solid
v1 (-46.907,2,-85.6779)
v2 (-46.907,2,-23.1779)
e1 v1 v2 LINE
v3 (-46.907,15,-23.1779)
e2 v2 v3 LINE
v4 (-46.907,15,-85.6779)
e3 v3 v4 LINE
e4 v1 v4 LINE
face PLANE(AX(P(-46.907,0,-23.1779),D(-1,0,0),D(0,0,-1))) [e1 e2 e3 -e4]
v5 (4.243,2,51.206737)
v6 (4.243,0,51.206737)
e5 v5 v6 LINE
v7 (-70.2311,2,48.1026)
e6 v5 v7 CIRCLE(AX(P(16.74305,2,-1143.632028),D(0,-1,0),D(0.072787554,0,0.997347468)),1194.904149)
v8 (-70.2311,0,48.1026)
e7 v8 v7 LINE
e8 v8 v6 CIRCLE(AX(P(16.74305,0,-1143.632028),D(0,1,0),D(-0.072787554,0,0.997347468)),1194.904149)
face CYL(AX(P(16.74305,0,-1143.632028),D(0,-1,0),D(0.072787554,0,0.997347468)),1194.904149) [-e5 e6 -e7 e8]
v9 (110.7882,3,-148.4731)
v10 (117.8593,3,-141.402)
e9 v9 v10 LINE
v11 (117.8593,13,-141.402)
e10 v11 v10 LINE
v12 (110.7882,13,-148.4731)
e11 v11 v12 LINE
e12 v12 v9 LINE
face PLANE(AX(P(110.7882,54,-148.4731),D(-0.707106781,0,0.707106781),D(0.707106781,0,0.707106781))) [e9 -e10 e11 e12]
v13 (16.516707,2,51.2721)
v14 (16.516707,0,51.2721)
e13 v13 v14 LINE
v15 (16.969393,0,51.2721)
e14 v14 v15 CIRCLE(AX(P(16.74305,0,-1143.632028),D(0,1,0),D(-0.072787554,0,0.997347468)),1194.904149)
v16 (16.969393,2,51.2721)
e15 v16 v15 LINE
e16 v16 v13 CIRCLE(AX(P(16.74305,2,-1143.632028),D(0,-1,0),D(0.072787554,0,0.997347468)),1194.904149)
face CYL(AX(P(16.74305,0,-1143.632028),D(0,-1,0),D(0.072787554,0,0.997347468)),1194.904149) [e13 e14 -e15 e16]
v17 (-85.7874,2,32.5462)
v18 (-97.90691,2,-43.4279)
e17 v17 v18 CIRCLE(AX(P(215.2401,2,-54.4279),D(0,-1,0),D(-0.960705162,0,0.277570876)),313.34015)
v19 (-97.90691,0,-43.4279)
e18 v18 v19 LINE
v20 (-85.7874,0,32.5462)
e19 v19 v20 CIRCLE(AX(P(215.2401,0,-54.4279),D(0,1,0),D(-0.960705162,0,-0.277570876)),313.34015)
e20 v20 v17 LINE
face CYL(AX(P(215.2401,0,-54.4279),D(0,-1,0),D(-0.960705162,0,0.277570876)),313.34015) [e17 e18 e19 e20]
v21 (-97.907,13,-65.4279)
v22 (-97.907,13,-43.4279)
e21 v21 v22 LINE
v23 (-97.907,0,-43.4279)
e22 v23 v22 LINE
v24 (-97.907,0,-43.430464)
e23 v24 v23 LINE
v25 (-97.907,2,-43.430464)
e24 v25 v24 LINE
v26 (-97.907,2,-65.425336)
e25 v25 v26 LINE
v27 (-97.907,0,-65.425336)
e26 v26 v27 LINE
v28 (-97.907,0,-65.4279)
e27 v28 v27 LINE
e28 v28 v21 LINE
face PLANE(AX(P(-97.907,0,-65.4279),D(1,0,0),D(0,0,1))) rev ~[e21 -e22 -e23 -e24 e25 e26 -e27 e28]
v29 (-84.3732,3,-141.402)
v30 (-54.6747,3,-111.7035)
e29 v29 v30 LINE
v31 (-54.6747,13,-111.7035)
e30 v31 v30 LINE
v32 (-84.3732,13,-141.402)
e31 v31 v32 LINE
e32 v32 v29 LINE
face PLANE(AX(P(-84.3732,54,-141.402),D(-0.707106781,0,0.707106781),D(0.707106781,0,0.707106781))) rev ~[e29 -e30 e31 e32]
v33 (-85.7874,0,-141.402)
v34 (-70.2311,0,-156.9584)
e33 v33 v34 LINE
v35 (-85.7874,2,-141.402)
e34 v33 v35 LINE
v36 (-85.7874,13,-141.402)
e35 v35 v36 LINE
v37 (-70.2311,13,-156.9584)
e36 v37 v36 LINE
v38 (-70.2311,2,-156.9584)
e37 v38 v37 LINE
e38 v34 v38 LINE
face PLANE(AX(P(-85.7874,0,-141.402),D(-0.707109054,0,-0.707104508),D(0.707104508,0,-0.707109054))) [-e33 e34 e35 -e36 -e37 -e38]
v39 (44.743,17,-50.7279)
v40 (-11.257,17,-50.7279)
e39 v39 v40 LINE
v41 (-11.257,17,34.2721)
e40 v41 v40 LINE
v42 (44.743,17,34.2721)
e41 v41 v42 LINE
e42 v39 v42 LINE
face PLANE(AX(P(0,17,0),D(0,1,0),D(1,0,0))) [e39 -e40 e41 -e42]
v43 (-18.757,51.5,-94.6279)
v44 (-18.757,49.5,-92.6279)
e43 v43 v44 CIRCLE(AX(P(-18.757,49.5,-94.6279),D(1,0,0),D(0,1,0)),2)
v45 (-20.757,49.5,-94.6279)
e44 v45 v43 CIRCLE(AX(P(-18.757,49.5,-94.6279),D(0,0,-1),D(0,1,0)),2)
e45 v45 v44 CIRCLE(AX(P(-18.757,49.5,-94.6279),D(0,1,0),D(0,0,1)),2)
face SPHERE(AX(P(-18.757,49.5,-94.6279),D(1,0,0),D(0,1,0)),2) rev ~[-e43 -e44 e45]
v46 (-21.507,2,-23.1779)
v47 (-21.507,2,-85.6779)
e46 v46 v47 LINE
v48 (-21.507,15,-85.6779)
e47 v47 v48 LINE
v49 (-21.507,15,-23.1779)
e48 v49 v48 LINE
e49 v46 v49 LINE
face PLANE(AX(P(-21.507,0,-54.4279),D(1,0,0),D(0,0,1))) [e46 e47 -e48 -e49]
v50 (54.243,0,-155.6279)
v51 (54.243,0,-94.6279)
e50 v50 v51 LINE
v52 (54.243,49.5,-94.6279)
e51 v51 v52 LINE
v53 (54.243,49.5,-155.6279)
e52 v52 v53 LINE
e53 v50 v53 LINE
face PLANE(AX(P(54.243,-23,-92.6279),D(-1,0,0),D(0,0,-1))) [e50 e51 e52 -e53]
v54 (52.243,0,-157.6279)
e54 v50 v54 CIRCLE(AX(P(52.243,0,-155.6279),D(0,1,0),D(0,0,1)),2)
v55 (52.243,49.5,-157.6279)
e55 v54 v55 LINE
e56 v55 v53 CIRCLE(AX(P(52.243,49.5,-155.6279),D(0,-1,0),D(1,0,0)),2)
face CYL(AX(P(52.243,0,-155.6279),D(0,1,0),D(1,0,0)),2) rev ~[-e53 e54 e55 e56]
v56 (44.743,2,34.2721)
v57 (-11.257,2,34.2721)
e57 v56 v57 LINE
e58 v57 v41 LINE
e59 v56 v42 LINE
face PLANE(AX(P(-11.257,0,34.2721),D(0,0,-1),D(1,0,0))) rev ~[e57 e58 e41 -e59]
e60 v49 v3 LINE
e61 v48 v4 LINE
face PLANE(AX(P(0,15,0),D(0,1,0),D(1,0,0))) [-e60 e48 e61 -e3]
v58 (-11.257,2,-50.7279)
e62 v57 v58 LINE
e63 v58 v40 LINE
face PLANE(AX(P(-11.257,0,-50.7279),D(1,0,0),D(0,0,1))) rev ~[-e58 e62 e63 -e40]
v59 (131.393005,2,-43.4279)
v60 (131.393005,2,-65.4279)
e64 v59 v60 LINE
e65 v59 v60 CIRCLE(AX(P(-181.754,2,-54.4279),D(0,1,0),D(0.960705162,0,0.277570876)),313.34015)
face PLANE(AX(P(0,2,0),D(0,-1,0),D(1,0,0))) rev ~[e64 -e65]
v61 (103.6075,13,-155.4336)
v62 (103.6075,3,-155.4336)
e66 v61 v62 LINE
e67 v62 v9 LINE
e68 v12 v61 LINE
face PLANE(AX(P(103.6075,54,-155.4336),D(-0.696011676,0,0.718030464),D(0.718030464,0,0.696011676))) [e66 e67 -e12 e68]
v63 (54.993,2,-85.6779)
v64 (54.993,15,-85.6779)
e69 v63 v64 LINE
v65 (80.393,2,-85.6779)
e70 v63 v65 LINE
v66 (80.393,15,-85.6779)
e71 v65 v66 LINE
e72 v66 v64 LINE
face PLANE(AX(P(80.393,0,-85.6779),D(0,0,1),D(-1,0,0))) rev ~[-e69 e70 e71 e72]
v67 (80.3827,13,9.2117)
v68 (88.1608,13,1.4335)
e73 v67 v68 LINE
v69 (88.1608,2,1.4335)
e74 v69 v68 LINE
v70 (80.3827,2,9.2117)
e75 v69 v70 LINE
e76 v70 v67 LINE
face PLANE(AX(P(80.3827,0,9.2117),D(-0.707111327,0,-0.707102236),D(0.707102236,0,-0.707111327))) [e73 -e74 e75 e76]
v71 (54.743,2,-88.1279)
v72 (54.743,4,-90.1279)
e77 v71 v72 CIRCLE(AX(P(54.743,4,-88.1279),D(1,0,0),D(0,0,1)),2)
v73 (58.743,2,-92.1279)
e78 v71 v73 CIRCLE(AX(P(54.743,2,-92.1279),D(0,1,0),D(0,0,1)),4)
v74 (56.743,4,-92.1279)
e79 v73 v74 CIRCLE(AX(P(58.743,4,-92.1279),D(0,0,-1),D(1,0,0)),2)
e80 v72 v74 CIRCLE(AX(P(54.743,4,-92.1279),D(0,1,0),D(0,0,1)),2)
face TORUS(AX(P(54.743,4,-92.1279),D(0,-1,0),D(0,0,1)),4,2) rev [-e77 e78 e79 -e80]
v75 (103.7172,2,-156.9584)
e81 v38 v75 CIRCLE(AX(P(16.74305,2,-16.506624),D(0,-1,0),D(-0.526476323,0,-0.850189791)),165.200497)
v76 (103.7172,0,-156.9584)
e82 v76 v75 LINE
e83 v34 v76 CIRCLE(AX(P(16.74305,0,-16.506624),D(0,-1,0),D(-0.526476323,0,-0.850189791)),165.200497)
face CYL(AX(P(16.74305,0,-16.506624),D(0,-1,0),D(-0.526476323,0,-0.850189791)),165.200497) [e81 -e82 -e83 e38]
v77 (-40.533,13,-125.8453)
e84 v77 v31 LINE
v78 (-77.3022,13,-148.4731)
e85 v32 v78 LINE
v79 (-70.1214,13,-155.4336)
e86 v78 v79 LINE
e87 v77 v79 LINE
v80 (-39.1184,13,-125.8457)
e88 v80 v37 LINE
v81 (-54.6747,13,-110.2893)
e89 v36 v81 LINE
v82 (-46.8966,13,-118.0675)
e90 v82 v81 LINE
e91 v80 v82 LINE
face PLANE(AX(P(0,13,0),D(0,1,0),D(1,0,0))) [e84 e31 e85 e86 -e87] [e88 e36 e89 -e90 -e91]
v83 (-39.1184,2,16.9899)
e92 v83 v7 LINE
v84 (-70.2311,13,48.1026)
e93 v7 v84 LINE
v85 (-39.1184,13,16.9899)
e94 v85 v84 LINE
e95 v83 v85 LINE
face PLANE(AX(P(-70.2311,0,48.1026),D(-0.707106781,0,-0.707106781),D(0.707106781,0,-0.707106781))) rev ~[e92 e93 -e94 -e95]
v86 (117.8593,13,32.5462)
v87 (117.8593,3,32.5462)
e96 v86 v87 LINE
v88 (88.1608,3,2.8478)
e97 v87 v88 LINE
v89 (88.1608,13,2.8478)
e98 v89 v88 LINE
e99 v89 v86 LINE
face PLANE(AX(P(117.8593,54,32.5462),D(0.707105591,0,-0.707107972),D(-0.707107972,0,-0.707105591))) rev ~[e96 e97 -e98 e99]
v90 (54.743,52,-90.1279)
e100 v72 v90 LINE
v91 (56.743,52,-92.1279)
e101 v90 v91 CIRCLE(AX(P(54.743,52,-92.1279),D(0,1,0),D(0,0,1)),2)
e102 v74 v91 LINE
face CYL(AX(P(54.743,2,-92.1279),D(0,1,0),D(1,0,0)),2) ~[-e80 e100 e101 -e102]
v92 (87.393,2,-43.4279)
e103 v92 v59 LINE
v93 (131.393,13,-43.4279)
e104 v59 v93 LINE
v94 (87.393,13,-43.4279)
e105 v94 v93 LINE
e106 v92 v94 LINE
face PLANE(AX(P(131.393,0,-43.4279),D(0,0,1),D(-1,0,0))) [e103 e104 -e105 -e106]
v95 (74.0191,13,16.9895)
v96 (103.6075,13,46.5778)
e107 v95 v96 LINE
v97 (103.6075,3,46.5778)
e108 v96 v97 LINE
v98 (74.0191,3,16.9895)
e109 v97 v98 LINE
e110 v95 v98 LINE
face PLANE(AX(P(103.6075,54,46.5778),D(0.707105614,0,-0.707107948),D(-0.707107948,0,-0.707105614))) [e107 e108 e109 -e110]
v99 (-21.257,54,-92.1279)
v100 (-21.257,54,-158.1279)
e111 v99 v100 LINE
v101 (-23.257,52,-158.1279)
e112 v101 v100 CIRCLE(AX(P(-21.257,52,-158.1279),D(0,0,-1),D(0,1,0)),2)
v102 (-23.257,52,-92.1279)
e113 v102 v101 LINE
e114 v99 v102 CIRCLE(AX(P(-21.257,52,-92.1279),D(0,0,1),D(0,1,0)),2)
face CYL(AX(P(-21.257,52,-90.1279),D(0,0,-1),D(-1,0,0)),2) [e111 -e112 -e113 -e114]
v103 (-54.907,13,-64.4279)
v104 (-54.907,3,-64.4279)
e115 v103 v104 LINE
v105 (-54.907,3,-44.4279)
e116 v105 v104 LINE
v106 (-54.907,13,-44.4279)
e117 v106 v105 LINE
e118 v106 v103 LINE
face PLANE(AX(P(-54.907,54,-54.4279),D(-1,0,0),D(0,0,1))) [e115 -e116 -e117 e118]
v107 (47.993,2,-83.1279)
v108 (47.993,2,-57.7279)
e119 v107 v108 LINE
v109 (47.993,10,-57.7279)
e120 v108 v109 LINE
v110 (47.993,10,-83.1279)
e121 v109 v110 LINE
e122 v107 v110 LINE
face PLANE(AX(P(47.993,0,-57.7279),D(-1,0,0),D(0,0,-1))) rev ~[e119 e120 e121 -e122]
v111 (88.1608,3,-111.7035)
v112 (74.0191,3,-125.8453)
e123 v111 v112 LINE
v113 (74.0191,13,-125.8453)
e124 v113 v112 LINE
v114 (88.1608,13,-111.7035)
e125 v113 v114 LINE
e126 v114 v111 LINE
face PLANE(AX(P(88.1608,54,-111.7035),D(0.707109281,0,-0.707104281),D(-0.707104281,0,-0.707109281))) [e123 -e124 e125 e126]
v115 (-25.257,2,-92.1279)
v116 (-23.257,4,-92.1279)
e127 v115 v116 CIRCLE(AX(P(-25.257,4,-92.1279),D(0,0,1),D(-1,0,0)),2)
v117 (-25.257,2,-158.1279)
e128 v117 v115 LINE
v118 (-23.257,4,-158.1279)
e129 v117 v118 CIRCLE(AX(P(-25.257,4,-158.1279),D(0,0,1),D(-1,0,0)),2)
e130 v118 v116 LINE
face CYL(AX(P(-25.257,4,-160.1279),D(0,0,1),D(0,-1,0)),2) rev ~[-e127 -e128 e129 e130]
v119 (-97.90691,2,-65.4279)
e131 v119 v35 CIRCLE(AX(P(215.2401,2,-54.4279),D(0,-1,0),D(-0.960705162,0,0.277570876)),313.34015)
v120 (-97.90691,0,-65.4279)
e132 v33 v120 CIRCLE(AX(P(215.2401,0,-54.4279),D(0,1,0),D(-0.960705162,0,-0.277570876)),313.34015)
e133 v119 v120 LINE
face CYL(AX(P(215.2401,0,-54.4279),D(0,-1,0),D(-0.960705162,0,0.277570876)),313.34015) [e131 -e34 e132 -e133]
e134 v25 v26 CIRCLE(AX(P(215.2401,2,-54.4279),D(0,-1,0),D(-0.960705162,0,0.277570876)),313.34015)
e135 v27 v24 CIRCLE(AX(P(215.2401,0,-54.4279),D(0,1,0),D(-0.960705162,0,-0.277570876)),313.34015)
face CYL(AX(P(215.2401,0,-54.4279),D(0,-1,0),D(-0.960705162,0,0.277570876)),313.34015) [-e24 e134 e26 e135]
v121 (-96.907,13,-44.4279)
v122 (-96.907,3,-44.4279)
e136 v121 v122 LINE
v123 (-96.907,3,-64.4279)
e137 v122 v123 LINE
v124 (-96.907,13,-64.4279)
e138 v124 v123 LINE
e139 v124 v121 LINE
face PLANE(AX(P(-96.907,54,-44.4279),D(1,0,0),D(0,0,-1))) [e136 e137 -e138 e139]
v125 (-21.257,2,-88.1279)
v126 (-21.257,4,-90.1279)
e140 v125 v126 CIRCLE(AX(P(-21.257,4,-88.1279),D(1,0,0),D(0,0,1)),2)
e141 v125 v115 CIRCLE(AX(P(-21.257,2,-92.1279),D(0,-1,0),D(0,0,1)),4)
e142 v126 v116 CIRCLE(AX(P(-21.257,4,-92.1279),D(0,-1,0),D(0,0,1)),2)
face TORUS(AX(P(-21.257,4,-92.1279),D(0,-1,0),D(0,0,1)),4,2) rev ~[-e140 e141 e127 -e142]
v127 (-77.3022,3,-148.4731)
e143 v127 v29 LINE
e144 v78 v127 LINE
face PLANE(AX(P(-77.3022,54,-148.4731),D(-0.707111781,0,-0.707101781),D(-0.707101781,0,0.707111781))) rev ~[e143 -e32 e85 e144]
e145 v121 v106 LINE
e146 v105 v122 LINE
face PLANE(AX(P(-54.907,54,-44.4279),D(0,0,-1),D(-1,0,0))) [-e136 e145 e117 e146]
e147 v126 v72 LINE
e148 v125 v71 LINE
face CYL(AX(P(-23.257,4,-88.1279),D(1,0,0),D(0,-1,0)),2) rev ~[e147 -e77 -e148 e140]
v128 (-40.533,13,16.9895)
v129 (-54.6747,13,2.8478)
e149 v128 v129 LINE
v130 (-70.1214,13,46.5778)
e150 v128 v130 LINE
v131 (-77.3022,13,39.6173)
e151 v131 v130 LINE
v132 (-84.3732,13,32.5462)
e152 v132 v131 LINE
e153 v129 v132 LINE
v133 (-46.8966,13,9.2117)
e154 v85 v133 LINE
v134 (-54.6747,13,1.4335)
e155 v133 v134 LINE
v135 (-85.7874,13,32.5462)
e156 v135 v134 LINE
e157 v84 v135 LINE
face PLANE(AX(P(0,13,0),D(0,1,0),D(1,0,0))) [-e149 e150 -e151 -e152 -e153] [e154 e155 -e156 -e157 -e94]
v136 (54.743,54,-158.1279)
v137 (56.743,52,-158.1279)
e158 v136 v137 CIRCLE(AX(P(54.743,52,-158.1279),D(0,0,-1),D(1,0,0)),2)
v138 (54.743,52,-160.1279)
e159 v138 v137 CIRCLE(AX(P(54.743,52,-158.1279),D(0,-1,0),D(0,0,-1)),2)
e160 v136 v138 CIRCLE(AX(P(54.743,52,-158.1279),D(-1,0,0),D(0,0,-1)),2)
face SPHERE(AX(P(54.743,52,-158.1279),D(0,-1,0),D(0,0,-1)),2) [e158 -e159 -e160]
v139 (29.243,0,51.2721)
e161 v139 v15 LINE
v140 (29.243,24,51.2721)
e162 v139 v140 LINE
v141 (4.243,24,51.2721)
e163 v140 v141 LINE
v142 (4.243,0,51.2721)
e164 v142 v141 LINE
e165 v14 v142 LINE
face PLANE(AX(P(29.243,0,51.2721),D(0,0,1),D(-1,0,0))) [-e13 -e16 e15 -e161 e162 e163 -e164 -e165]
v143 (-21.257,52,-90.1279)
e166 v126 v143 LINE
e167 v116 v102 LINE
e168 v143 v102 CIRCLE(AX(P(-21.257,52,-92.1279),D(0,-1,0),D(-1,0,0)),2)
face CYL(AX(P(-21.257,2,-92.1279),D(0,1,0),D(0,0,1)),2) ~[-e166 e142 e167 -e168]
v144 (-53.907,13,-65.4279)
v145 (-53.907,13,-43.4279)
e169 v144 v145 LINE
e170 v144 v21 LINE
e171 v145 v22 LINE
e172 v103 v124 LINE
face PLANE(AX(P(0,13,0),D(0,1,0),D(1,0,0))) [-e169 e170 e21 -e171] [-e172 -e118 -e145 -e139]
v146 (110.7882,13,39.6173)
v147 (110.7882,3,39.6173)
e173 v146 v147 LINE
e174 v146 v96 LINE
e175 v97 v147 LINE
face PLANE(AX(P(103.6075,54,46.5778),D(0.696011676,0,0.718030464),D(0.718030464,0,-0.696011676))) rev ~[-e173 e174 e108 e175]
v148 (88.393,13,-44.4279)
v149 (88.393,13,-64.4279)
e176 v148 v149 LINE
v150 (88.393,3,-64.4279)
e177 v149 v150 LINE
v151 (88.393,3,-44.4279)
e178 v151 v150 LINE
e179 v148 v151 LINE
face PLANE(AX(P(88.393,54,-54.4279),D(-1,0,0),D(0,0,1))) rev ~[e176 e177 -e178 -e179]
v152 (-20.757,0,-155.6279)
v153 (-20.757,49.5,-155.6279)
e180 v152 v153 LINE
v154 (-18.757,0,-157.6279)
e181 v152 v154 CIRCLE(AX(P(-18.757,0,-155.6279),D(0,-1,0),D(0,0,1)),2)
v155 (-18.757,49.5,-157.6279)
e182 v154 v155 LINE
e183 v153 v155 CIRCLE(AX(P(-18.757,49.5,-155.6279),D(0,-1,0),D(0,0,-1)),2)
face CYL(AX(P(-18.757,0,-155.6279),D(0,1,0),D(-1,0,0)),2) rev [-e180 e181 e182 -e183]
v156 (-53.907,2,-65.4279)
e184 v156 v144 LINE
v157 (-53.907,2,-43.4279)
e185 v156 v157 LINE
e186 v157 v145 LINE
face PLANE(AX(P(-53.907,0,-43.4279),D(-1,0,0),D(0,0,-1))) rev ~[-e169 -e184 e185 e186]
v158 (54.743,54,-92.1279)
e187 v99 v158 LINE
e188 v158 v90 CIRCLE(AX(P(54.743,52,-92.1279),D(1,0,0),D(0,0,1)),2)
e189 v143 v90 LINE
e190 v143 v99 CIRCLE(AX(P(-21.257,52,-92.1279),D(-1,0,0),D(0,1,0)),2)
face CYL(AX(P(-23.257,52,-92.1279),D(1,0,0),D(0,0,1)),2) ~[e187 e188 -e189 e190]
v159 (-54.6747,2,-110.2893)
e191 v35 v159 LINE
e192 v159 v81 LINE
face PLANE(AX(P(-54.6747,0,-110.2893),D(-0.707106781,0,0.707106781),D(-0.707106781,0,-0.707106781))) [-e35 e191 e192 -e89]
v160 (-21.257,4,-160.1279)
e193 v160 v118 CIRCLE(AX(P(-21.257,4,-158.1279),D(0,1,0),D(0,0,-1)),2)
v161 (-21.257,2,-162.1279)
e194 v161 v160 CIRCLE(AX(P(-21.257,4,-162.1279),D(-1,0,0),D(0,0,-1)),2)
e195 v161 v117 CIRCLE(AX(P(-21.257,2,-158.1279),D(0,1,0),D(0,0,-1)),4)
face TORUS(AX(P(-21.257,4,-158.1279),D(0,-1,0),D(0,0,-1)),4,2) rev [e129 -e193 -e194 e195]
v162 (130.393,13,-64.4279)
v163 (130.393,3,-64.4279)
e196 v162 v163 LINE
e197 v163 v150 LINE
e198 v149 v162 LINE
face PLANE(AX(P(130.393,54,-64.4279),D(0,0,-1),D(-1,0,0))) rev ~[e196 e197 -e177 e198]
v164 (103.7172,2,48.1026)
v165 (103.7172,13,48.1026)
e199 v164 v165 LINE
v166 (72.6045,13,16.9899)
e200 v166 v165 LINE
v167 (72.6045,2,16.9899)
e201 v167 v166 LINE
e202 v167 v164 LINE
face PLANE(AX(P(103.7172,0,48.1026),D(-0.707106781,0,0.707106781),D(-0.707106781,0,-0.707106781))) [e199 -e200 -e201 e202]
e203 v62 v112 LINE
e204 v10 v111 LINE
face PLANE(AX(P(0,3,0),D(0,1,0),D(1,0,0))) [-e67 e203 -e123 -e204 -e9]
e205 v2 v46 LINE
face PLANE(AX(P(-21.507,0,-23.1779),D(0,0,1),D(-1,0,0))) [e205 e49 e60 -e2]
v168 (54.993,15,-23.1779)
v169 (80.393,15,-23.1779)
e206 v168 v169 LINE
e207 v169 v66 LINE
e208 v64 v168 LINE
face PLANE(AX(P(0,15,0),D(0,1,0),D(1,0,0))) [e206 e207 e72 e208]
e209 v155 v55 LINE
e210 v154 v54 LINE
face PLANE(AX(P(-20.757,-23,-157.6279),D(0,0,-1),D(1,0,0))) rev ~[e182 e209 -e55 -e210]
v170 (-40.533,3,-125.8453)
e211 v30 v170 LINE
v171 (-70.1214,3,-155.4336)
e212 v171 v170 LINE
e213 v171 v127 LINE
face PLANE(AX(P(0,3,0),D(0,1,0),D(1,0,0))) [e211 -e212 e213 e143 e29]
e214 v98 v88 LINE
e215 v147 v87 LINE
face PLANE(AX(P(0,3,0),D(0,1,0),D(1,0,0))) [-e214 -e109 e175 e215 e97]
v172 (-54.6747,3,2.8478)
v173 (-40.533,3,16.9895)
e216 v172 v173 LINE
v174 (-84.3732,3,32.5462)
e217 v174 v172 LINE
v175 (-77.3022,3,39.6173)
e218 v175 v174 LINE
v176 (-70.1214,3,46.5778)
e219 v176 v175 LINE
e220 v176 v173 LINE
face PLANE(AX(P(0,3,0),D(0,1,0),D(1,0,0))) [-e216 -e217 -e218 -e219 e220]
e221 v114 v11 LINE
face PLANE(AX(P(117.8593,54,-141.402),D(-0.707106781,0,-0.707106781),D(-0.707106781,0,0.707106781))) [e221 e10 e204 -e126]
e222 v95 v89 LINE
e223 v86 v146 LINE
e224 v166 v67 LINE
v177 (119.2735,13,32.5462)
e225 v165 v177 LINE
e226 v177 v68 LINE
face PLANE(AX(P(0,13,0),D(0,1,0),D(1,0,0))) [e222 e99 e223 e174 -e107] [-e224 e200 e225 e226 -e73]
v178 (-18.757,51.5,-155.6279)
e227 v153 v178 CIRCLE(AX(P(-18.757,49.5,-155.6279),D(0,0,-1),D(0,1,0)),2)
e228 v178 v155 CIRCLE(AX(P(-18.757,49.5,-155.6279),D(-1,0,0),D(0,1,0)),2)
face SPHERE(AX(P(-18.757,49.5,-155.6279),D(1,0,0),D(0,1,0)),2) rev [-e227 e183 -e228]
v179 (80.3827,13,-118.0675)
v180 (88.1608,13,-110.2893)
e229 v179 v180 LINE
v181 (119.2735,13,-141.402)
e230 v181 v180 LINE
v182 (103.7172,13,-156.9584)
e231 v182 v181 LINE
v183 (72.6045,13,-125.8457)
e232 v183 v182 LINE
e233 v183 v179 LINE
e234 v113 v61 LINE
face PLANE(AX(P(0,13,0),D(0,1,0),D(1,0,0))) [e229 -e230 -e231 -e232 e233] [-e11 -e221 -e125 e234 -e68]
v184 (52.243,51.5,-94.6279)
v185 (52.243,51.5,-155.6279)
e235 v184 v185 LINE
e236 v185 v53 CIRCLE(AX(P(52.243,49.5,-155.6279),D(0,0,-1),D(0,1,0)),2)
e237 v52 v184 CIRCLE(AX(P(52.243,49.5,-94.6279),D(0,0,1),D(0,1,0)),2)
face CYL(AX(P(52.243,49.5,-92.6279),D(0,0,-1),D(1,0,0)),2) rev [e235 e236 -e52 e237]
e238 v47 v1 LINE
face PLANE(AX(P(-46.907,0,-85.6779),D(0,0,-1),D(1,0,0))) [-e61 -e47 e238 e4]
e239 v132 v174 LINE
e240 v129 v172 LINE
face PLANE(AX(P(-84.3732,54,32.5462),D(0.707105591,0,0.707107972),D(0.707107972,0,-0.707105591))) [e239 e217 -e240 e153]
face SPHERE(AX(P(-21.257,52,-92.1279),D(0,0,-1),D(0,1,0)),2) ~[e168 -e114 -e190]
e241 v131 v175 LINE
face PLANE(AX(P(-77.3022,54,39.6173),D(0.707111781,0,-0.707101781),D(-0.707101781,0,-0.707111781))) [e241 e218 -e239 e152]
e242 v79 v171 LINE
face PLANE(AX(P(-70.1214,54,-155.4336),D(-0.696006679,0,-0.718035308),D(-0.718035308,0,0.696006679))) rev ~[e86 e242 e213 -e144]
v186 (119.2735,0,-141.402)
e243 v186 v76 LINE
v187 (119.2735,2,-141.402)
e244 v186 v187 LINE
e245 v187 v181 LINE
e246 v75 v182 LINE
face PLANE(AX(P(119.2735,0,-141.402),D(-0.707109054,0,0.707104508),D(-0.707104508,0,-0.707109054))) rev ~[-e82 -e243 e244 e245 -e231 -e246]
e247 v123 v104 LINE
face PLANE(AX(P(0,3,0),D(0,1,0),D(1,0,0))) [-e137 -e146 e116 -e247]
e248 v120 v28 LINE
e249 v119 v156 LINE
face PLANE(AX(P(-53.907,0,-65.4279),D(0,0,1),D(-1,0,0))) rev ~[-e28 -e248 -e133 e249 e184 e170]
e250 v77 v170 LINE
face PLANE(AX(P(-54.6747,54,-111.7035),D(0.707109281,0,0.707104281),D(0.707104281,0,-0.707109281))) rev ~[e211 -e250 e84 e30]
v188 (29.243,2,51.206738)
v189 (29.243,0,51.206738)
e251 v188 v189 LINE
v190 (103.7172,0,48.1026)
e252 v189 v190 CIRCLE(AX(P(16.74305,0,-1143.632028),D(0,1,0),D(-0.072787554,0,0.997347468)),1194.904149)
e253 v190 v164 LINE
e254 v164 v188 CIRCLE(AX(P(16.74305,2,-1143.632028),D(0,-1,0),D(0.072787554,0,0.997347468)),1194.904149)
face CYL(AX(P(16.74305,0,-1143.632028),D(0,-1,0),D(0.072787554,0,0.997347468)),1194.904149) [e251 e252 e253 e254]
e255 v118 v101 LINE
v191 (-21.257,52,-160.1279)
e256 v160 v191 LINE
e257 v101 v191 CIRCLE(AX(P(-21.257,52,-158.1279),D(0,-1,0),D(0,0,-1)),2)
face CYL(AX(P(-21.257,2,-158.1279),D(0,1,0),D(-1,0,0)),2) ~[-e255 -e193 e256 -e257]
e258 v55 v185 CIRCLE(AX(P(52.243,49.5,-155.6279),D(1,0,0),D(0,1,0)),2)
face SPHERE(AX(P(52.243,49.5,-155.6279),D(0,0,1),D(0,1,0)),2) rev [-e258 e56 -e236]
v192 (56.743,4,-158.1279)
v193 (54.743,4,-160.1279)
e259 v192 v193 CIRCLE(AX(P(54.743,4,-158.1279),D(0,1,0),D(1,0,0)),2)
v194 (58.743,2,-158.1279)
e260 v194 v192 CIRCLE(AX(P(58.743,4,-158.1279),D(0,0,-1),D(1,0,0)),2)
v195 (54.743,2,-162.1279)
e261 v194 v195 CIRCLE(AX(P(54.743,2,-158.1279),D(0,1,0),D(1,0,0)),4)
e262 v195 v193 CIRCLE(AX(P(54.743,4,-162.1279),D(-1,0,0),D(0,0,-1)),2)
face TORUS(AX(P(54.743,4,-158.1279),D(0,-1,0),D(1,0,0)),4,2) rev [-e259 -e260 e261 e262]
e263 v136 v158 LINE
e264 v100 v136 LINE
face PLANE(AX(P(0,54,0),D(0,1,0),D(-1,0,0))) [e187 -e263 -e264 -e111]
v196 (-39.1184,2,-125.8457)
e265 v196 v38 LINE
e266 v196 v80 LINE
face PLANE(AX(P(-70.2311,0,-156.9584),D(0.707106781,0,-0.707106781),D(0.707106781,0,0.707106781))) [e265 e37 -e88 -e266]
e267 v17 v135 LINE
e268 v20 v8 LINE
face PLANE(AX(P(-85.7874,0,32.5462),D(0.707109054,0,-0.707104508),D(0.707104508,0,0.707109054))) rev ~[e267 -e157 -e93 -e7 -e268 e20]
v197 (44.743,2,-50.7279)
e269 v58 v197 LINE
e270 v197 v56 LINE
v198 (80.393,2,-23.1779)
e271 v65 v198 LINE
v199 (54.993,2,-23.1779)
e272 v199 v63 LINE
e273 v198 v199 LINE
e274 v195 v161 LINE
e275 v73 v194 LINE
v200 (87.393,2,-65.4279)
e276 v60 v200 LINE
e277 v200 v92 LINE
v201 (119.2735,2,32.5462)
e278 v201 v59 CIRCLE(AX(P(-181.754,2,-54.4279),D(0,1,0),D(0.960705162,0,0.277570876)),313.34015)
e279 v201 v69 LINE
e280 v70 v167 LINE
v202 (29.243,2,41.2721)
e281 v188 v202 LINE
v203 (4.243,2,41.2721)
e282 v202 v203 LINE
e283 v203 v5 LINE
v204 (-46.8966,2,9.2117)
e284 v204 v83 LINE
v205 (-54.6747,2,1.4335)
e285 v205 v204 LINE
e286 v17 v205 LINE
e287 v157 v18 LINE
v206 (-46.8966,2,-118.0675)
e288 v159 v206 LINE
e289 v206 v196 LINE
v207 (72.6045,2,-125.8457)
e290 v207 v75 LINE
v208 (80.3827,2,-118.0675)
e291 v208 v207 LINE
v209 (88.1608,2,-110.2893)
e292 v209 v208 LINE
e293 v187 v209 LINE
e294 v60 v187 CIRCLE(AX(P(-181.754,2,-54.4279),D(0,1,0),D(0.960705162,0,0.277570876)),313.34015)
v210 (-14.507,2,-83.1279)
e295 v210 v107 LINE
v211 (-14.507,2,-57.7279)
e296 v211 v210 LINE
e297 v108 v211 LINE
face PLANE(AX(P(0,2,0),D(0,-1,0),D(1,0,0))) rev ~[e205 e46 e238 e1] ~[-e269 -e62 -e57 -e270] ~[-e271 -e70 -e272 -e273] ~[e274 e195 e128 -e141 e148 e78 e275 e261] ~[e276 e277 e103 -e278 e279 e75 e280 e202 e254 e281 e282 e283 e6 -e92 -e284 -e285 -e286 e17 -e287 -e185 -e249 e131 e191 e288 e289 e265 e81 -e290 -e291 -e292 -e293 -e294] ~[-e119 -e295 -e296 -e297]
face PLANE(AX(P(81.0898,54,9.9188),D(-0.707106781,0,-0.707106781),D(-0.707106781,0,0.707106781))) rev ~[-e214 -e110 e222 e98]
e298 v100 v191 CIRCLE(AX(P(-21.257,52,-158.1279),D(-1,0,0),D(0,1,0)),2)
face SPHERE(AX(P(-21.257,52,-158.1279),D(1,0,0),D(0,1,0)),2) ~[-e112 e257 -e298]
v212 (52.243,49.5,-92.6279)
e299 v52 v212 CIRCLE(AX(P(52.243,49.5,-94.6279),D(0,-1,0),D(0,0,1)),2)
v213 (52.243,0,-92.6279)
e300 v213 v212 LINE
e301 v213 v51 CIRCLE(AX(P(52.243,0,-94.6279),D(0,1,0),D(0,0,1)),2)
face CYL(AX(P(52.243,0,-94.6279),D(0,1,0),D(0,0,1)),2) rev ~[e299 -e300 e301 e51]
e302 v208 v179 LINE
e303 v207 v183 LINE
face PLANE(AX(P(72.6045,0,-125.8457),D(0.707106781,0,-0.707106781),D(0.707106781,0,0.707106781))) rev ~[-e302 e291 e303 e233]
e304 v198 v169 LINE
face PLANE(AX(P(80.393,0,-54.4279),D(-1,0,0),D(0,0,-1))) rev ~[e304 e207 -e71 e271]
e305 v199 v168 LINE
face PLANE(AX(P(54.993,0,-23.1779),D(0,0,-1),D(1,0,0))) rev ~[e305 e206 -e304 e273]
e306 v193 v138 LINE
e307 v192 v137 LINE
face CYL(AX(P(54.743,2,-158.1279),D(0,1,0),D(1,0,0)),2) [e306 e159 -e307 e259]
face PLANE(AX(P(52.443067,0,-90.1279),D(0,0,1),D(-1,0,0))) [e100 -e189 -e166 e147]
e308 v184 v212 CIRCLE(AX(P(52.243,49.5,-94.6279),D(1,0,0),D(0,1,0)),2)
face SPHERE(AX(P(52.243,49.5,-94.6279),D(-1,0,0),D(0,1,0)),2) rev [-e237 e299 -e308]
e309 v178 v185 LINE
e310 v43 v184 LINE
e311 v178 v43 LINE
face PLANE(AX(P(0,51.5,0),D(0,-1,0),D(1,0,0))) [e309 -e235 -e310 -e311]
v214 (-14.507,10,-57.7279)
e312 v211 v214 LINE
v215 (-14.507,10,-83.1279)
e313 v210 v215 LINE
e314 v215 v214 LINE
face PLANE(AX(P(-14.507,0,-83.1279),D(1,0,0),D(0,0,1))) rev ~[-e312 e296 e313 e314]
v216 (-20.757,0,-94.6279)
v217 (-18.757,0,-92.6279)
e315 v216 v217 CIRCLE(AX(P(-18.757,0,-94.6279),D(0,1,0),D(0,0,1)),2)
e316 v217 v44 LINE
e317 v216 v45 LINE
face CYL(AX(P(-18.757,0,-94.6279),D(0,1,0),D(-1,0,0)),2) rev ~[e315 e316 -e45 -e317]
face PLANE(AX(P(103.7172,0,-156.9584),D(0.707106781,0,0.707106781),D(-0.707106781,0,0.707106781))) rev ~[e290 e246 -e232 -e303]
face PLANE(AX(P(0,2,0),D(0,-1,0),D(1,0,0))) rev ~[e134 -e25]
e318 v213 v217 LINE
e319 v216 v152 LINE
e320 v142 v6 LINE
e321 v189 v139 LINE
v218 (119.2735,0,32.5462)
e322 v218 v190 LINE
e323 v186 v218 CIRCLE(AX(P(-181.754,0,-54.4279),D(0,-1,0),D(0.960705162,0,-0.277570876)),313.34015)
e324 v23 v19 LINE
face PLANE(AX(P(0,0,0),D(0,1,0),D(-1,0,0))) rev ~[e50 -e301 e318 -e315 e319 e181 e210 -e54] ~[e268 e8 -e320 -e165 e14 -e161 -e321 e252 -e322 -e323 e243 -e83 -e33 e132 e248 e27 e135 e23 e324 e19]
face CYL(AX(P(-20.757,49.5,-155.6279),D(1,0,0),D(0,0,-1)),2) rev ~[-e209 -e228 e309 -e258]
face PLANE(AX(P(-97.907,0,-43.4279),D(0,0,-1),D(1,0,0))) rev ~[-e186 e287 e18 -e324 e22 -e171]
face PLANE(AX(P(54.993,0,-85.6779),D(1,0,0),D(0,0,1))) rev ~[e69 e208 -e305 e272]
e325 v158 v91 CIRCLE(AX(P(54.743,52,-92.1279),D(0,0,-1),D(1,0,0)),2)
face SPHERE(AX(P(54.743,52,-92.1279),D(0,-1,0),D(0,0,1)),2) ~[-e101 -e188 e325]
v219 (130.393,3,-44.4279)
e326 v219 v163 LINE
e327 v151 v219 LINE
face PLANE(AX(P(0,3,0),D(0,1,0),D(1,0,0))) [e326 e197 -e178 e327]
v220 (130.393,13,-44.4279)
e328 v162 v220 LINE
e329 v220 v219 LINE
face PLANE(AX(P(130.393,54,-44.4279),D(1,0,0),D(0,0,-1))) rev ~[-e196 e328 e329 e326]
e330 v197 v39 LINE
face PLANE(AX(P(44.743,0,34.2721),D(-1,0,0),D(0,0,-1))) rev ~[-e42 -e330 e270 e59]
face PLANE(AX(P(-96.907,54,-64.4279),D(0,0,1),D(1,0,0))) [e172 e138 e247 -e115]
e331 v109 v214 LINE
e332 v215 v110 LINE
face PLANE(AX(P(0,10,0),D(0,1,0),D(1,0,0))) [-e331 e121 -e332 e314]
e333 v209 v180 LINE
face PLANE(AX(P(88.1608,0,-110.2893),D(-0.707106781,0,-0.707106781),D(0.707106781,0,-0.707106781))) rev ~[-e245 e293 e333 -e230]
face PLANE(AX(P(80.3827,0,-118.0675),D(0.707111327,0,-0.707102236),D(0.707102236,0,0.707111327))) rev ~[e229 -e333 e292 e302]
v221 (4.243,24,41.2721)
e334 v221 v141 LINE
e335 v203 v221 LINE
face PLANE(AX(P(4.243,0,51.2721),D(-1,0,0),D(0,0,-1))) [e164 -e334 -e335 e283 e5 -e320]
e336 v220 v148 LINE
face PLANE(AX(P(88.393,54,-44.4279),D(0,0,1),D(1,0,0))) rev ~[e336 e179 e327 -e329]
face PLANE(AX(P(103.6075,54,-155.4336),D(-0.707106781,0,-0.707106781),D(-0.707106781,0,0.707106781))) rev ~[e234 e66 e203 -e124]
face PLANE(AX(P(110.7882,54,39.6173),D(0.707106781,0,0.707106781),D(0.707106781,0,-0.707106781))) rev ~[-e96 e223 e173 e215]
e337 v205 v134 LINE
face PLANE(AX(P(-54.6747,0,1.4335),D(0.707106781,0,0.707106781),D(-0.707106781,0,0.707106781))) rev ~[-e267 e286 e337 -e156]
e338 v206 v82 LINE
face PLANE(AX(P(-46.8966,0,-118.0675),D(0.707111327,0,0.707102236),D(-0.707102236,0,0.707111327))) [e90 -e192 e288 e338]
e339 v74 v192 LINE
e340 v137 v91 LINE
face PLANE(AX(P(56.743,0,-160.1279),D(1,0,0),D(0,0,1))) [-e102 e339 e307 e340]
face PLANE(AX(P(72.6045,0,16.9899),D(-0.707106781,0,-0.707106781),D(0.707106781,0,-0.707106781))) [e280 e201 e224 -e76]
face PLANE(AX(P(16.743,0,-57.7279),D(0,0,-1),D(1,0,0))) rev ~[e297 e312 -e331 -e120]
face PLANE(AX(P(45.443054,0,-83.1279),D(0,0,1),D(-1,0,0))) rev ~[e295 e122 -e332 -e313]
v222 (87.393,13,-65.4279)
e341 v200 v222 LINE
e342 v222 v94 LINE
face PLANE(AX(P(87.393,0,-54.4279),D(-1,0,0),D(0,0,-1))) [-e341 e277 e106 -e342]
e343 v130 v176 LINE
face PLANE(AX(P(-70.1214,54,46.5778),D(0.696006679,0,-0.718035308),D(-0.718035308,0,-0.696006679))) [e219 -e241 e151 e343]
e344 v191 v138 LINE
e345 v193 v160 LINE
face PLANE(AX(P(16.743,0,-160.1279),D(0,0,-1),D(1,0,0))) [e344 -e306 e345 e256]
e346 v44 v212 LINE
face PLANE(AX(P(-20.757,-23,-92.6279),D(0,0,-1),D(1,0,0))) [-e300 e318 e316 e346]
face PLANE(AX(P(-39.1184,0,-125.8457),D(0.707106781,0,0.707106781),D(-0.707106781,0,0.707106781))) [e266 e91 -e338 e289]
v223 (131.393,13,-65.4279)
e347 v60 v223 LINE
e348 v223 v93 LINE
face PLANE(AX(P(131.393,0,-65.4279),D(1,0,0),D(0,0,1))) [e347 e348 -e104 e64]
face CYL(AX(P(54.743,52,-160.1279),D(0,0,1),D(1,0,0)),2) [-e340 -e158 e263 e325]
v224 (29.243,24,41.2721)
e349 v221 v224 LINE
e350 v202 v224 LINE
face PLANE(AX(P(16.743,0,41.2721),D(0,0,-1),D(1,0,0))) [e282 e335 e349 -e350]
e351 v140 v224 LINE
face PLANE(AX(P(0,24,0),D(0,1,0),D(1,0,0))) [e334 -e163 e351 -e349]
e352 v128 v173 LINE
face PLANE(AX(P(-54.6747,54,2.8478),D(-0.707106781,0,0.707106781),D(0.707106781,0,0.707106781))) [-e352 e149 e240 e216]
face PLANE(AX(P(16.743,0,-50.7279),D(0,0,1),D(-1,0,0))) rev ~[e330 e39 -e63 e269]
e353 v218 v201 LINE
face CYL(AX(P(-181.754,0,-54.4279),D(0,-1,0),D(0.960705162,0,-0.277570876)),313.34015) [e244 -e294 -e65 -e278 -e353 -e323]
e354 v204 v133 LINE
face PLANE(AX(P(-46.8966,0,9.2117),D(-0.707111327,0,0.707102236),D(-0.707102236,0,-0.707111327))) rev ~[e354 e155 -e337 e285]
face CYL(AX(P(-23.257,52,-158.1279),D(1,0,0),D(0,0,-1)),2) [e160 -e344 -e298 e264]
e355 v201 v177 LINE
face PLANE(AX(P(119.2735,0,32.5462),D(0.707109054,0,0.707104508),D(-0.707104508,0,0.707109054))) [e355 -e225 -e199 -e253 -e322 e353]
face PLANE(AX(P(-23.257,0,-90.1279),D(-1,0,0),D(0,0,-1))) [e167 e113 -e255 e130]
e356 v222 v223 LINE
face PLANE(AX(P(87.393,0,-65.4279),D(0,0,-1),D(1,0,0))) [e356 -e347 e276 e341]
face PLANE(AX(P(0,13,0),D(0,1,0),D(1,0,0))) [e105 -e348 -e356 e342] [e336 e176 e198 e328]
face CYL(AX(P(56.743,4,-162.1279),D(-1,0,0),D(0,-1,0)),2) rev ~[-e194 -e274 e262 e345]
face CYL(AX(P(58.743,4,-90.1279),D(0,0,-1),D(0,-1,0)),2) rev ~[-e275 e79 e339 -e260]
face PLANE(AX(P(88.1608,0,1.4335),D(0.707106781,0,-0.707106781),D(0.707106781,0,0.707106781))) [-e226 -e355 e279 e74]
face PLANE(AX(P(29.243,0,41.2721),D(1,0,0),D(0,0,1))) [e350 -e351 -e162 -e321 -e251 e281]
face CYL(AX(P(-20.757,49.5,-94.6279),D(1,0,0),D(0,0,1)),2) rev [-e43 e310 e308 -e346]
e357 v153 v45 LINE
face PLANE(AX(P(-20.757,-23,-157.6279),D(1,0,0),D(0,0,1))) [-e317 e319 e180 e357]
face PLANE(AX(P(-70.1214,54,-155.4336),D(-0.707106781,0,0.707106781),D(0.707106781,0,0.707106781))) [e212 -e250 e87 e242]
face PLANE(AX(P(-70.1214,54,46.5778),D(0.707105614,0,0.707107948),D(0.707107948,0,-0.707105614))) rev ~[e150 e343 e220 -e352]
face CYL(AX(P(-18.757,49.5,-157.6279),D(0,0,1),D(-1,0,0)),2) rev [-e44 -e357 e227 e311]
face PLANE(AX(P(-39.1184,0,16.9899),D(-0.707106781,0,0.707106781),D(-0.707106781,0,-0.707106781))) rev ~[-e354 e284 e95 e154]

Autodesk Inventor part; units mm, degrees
ref_plane "YZ Plane" through (0, 0, 0) normal (1, 0, 0) x (0, 1, 0)
ref_plane "XZ Plane" through (0, 0, 0) normal (0, 1, 0) x (-1, 0, 0)
ref_plane "XY Plane" through (0, 0, 0) normal (0, 0, 1) x (1, 0, 0)
sketch "Sketch1" plane through (0, 0, 0) normal (0, 1, 0) x (-1, 0, 0)
  line L0 (11.257, 34.2721) -> (-44.743, 34.2721)
  line L1 (-44.743, 34.2721) -> (-44.743, -50.7279)
  line L2 (-44.743, -50.7279) -> (11.257, -50.7279)
  line L3 (11.257, -50.7279) -> (11.257, 34.2721)
  line L4 (-16.743, -50.7279) -> (-16.743, -57.7279)
  line L5 (14.507, -57.7279) -> (-47.993, -57.7279)
  line L6 (-47.993, -57.7279) -> (-47.993, -83.1279)
  line L7 (-47.993, -83.1279) -> (14.507, -83.1279)
  line L8 (14.507, -83.1279) -> (14.507, -57.7279)
  line L9 (-16.743, 34.2721) -> (-16.743, 41.2721)
  line L10 (-4.243, 41.2721) -> (-29.243, 41.2721)
  line L11 (-29.243, 41.2721) -> (-29.243, 51.2721)
  line L12 (-29.243, 51.2721) -> (-4.243, 51.2721)
  line L13 (-4.243, 51.2721) -> (-4.243, 41.2721)
  line L14 (-16.743, -83.1279) -> (-16.743, -90.1279)
  line L15 (23.257, -160.1279) -> (-56.743, -160.1279)
  line L16 (-56.743, -160.1279) -> (-56.743, -90.1279)
  line L17 (-56.743, -90.1279) -> (23.257, -90.1279)
  line L18 (23.257, -90.1279) -> (23.257, -160.1279)
  line L19 (14.507, -54.4279) -> (21.507, -54.4279)
  line L20 (14.507, -57.7279) -> (14.507, -54.4279)
  line L21 (46.907, -85.6779) -> (21.507, -85.6779)
  line L22 (21.507, -85.6779) -> (21.507, -23.1779)
  line L23 (21.507, -23.1779) -> (46.907, -23.1779)
  line L24 (46.907, -23.1779) -> (46.907, -85.6779)
  line L25 (-80.393, -85.6779) -> (-54.993, -85.6779)
  line L26 (-54.993, -85.6779) -> (-54.993, -23.1779)
  line L27 (-54.993, -23.1779) -> (-80.393, -23.1779)
  line L28 (-80.393, -23.1779) -> (-80.393, -85.6779)
  line L29 (-80.393, -54.4279) -> (-87.393, -54.4279)
  line L30 (-16.743, -160.1279) -> (-16.743, 51.2721)
  line L31 (-16.743, -54.4279) -> (63.257, -54.4279) construction
  line L32 (-16.743, -54.4279) -> (-69.7761, -107.4609)
  line L33 (-16.743, -54.4279) -> (58.257, -54.4279) construction
  line L34 (-69.7761, -107.4609) -> (-80.3827, -118.0675)
  line L35 (-80.3827, -118.0675) -> (-88.1608, -110.2893)
  line L36 (-88.1608, -110.2893) -> (-119.2735, -141.402)
  line L37 (-119.2735, -141.402) -> (-103.7172, -156.9584)
  line L38 (-103.7172, -156.9584) -> (-72.6045, -125.8457)
  line L39 (-72.6045, -125.8457) -> (-80.3827, -118.0675)
  line L40 (86.0976, -54.4279) -> (-151.9015, -54.4279)
  line L41 (-87.393, -54.4279) -> (-87.393, -65.4279)
  line L42 (-87.393, -65.4279) -> (-131.393, -65.4279)
  line L43 (-131.393, -65.4279) -> (-131.393, -43.4279)
  line L44 (-131.393, -43.4279) -> (-87.393, -43.4279)
  line L45 (-87.393, -43.4279) -> (-87.393, -54.4279)
  line L46 (-80.3827, 9.2117) -> (-88.1608, 1.4335)
  line L47 (-88.1608, 1.4335) -> (-119.2735, 32.5462)
  line L48 (-119.2735, 32.5462) -> (-103.7172, 48.1026)
  line L49 (-103.7172, 48.1026) -> (-72.6045, 16.9899)
  line L50 (-72.6045, 16.9899) -> (-80.3827, 9.2117)
  line L51 (46.8966, -118.0675) -> (54.6747, -110.2893)
  line L52 (54.6747, -110.2893) -> (85.7874, -141.402)
  line L53 (85.7874, -141.402) -> (70.2311, -156.9584)
  line L54 (70.2311, -156.9584) -> (39.1184, -125.8457)
  line L55 (39.1184, -125.8457) -> (46.8966, -118.0675)
  line L56 (53.907, -54.4279) -> (53.907, -65.4279)
  line L57 (53.907, -65.4279) -> (97.907, -65.4279)
  line L58 (97.907, -65.4279) -> (97.907, -43.4279)
  line L59 (97.907, -43.4279) -> (53.907, -43.4279)
  line L60 (53.907, -43.4279) -> (53.907, -54.4279)
  line L61 (54.6747, 1.4335) -> (85.7874, 32.5462)
  line L62 (85.7874, 32.5462) -> (70.2311, 48.1026)
  line L63 (70.2311, 48.1026) -> (39.1184, 16.9899)
  line L64 (46.8966, 9.2117) -> (54.6747, 1.4335)
  line L65 (39.1184, 16.9899) -> (46.8966, 9.2117)
  point P0 (-16.743, -57.7279)
  point P1 (-29.243, 46.2721)
  point P2 (-16.743, -90.1279)
  point P3 (21.507, -54.4279)
  point P4 (-83.893, -54.4279)
  point P5 (-54.993, -54.4279)
  point P6 (-44.743, -8.2279)
  point P7 (-87.393, -42.4279)
  dimension "d22" = 85
  dimension "d23" = 56
  dimension "d29" = 7
  dimension "d30" = 62.5
  dimension "d31" = 25.4
  dimension "d32" = 0
  dimension "d33" = 0
  dimension "d34" = 7
  dimension "d35" = 10
  dimension "d36" = 25
  dimension "d37" = 0
  dimension "d38" = 0
  dimension "d53" = 7
  dimension "d54" = 80
  dimension "d55" = 70
  dimension "d56" = 0
  dimension "d57" = 0
  dimension "d59" = 7
  dimension "d60" = 3.3
  dimension "d61" = 25.4
  dimension "d62" = 62.5
  dimension "d63" = 0
  dimension "d64" = 0
  dimension "d65" = 7
  dimension "d73" = 75
  dimension "d74" = 135
  dimension "d75" = 15
  dimension "d76" = 11
  dimension "d77" = 44
  dimension "d78" = 22
  dimension "d84" = 31.25
  dimension "d85" = 46.2
  dimension "d87" = 25.4
  dimension "d88" = 62.5
  dimension "d91" = 7
  dimension "d92" = 10.25
  dimension "d97" = 11
  dimension "d98" = 44
  dimension "d99" = 22
extrude "Extrusion1" add sketch "Sketch1" along normal blind 54 contours L3 L2 L30 L0 | L60 L59 L58 L57 L56 | L22 L23 L24 L40 | L40 L24 L21 L22 | L39 L38 L37 L36 L35 | L41 L42 L43 L40 | L40 L43 L44 L45 | L26 L25 L28 L40 | L40 L28 L27 L26 | L10 L11 L12 L30 | L30 L12 L13 L10 | L30 L2 L1 L0 | L30 L7 L32 L5 | L5 L8 L7 L30 | L32 L7 L6 L5 | L30 L15 L16 L32 L17 | L17 L18 L15 L30 | L32 L16 L17 | L46 L47 L48 L49 L50 | L51 L52 L53 L54 L55 | L64 L65 L63 L62 L61
sketch "Sketch2" plane through (0, 0, 0) normal (0, -1, 0) x (1, 0, 0)
  line L0 (56.743, -160.1279) -> (-23.257, -160.1279) projected
  line L1 (4.243, 51.2721) -> (29.243, 51.2721) projected
  line L2 (-85.7874, 32.5462) -> (-70.2311, 48.1026) projected
  line L3 (-70.2311, 48.1026) -> (-229.2278, -110.8941)
  line L4 (-70.2311, -156.9584) -> (-85.7874, -141.402) projected
  line L5 (-70.2311, -156.9584) -> (-201.5199, -25.6696)
  line L6 (103.7172, -156.9584) -> (72.6045, -125.8457) projected
  line L7 (103.7172, -156.9584) -> (295.0011, 34.3256)
  line L8 (103.7172, 48.1026) -> (119.2735, 32.5462) projected
  line L9 (103.7172, 48.1026) -> (277.6654, -125.8457)
  line L10 (103.7172, 48.1026) -> (-70.2311, 48.1026)
  arc A0 (-70.2311, -156.9584) -> (103.7172, -156.9584) centre (16.743, -16.5068) ccw
  line L11 (47.993, -83.1279) -> (-14.507, -83.1279) projected
  line L12 (16.743, -83.1279) -> (16.743, -57.7279)
  line L13 (-14.507, -57.7279) -> (47.993, -57.7279) projected
  arc A1 (103.7172, 48.1026) -> (-70.2311, 48.1026) centre (16.743, -1143.6334) ccw
  line L14 (-97.907, -65.4279) -> (-97.907, -43.4279) projected
  arc A2 (-85.7874, 32.5462) -> (-85.7874, -141.402) centre (215.2401, -54.4279) ccw
  line L15 (131.393, -43.4279) -> (131.393, -65.4279) projected
  arc A3 (119.2735, -141.402) -> (119.2735, 32.5462) centre (-181.754, -54.4279) ccw
  point P0 (0, 0)
  point P1 (-172.7616, -54.4279)
extrude "Extrusion2" add sketch "Sketch2" against normal blind 2 contours L2 L10 L8 A3 L15 L7 A0 L4 A2 L14 | A1 L10 | L14 A2 | A3 L15
sketch "Sketch3" plane through (0, 54, 0) normal (0, 1, 0) x (1, 0, 0)
  line L0 (131.393, 43.4279) -> (131.393, 65.4279) projected
  line L1 (131.393, 54.4279) -> (87.393, 54.4279)
  line L2 (87.393, 65.4279) -> (87.393, 43.4279) projected
  line L3 (87.393, 54.4279) -> (88.393, 54.4279)
  line L4 (88.393, 54.4279) -> (88.393, 43.4279)
  line L5 (87.393, 43.4279) -> (131.393, 43.4279) projected
  line L6 (88.393, 43.4279) -> (88.393, 44.4279)
  line L7 (88.393, 44.4279) -> (130.393, 44.4279)
  line L8 (130.393, 44.4279) -> (130.393, 64.4279)
  line L9 (130.393, 64.4279) -> (88.393, 64.4279)
  line L10 (88.393, 64.4279) -> (88.393, 54.4279)
  line L11 (103.7172, -48.1026) -> (119.2735, -32.5462) projected
  line L12 (111.4954, -40.3244) -> (80.3827, -9.2117)
  line L13 (88.1608, -1.4335) -> (72.6045, -16.9899) projected
  line L14 (111.4954, -40.3244) -> (110.7882, -39.6173)
  line L15 (110.7882, -39.6173) -> (117.8593, -32.5462)
  line L16 (119.2735, -32.5462) -> (88.1608, -1.4335) projected
  line L17 (103.6075, -46.5778) -> (110.7882, -39.6173)
  line L18 (103.6075, -46.5778) -> (73.312, -16.2824)
  line L19 (117.8593, -32.5462) -> (88.1608, -2.8478)
  line L20 (88.1608, -2.8478) -> (74.0191, -16.9895)
  line L21 (110.7882, 148.4731) -> (117.8593, 141.402)
  line L22 (103.6075, 155.4336) -> (110.7882, 148.4731)
  line L23 (103.6075, 155.4336) -> (73.312, 125.1381)
  line L24 (117.8593, 141.402) -> (88.1608, 111.7035)
  line L25 (88.1608, 111.7035) -> (74.0191, 125.8453)
  line L26 (-54.907, 54.4279) -> (-54.907, 43.4279)
  line L27 (-54.907, 44.4279) -> (-96.907, 44.4279)
  line L28 (-96.907, 44.4279) -> (-96.907, 64.4279)
  line L29 (-96.907, 64.4279) -> (-54.907, 64.4279)
  line L30 (-54.907, 64.4279) -> (-54.907, 54.4279)
  line L31 (-77.3022, -39.6173) -> (-84.3732, -32.5462)
  line L32 (-70.1214, -46.5778) -> (-77.3022, -39.6173)
  line L33 (-70.1214, -46.5778) -> (-39.8259, -16.2824)
  line L34 (-84.3732, -32.5462) -> (-54.6747, -2.8478)
  line L35 (-54.6747, -2.8478) -> (-40.533, -16.9895)
  line L36 (-54.6747, 111.7035) -> (-40.533, 125.8453)
  line L37 (-70.1214, 155.4336) -> (-39.8259, 125.1381)
  line L38 (-84.3732, 141.402) -> (-54.6747, 111.7035)
  line L39 (-70.1214, 155.4336) -> (-77.3022, 148.4731)
  line L40 (-77.3022, 148.4731) -> (-84.3732, 141.402)
  point P0 (0, 0)
  dimension "d100" = 1
  dimension "d101" = 1
  dimension "d102" = 42
  dimension "d103" = 20
  dimension "d104" = 1
  dimension "d105" = 10
  dimension "d109" = 42
extrude "Extrusion3" cut sketch "Sketch3" against normal blind 51 contours L8 L7 L4 L1 | L1 L10 L9 L8 | L17 L18 L20 L12 | L12 L20 L19 L15 | L21 L24 L25 L23 L22 | L26 L27 L28 L29 L30 | L31 L34 L35 L33 L32 | L38 L40 L39 L37 L36
sketch "Sketch4" plane through (0, 54, 0) normal (0, 1, 0) x (1, 0, 0)
  line L0 (103.7172, -48.1026) -> (119.2735, -32.5462) projected
  line L1 (119.2735, -32.5462) -> (88.1608, -1.4335) projected
  line L2 (103.7172, -48.1026) -> (119.2735, -32.5462)
  line L3 (119.2735, -32.5462) -> (88.1608, -1.4335)
  line L4 (88.1608, -1.4335) -> (72.6045, -16.9899)
  line L5 (72.6045, -16.9899) -> (103.7172, -48.1026)
  line L6 (87.393, 43.4279) -> (131.393, 43.4279) projected
  line L7 (131.393, 43.4279) -> (87.393, 43.4279)
  line L8 (87.393, 65.4279) -> (87.393, 43.4279) projected
  line L9 (87.393, 43.4279) -> (87.393, 65.4279)
  line L10 (87.393, 65.4279) -> (131.393, 65.4279)
  line L11 (131.393, 65.4279) -> (131.393, 43.4279)
  line L12 (130.393, 64.4279) -> (130.393, 44.4279) projected
  line L13 (56.743, 160.1279) -> (-23.257, 160.1279) projected
  line L14 (4.243, -51.2721) -> (29.243, -51.2721) projected
  line L15 (103.7172, 156.9584) -> (119.2735, 141.402)
  line L16 (119.2735, 141.402) -> (88.1608, 110.2893)
  line L17 (88.1608, 110.2893) -> (72.6045, 125.8457)
  line L18 (72.6045, 125.8457) -> (103.7172, 156.9584)
  line L19 (-70.2311, -48.1026) -> (-85.7874, -32.5462)
  line L20 (-85.7874, -32.5462) -> (-54.6747, -1.4335)
  line L21 (-54.6747, -1.4335) -> (-39.1184, -16.9899)
  line L22 (-39.1184, -16.9899) -> (-70.2311, -48.1026)
  line L23 (-53.907, 43.4279) -> (-97.907, 43.4279)
  line L24 (-97.907, 43.4279) -> (-53.907, 43.4279)
  line L25 (-53.907, 65.4279) -> (-53.907, 43.4279)
  line L26 (-53.907, 43.4279) -> (-53.907, 65.4279)
  line L27 (-53.907, 65.4279) -> (-97.907, 65.4279)
  line L28 (-97.907, 65.4279) -> (-97.907, 43.4279)
  line L29 (-96.907, 64.4279) -> (-96.907, 44.4279)
  line L30 (-39.1184, 125.8457) -> (-70.2311, 156.9584)
  line L31 (-54.6747, 110.2893) -> (-39.1184, 125.8457)
  line L32 (-85.7874, 141.402) -> (-54.6747, 110.2893)
  line L33 (-70.2311, 156.9584) -> (-85.7874, 141.402)
  point P0 (0, 0)
extrude "Extrusion4" cut sketch "Sketch4" against normal blind 41
sketch "Sketch5" plane through (0, 54, 0) normal (0, 1, 0) x (1, 0, 0)
  line L0 (56.743, 160.1279) -> (-23.257, 160.1279) projected
  line L1 (16.743, 160.1279) -> (16.743, 90.1279)
  line L2 (-23.257, 90.1279) -> (56.743, 90.1279) projected
  line L3 (16.743, 160.1279) -> (16.743, 157.6279)
  line L4 (16.743, 157.6279) -> (54.243, 157.6279)
  line L5 (54.243, 157.6279) -> (54.243, 92.6279)
  line L6 (54.243, 92.6279) -> (16.743, 92.6279)
  line L7 (16.743, 92.6279) -> (-20.757, 92.6279)
  line L8 (-20.757, 92.6279) -> (-20.757, 157.6279)
  line L9 (-20.757, 157.6279) -> (16.743, 157.6279)
  point P0 (0, 0)
  dimension "d115" = 2.5
  dimension "d116" = 37.5
  dimension "d117" = 65
  dimension "d118" = 37.5
extrude "Extrusion5" add sketch "Sketch5" against normal blind 77
sketch "Sketch6" plane through (0, -23, 0) normal (0, -1, 0) x (1, 0, 0)
  line L0 (-20.757, -157.6279) -> (54.243, -157.6279) projected
  line L1 (-20.757, -157.6279) -> (-20.757, -92.6279) projected
  line L2 (54.243, -157.6279) -> (-20.757, -157.6279)
  line L3 (-20.757, -157.6279) -> (-20.757, -92.6279)
  line L4 (-20.757, -92.6279) -> (54.243, -92.6279)
  line L5 (54.243, -92.6279) -> (54.243, -157.6279)
  point P0 (0, 0)
extrude "Extrusion6" cut sketch "Sketch6" against normal blind 74.5
fillet "Fillet2" radius 2 20 edges at (16.743, 51.5, -92.6279) (54.243, 51.5, -125.1279) (16.743, 51.5, -157.6279) (-20.757, 51.5, -125.1279) (56.743, 28, -160.1279) (56.743, 2, -125.1279) (16.743, 54, -160.1279) (-23.257, 54, -125.1279) (56.743, 28, -90.1279) (-23.257, 28, -160.1279) (16.743, 2, -160.1279) (16.743, 54, -90.1279) (56.743, 54, -125.1279) (-23.257, 2, -125.1279) (-23.257, 28, -90.1279) (16.743, 2, -90.1279) (-20.757, 25.75, -92.6279) (-20.757, 25.75, -157.6279) (54.243, 25.75, -157.6279) (54.243, 25.75, -92.6279)
sketch "Sketch7" plane through (0, 54, 0) normal (0, 1, 0) x (1, 0, 0)
  line L0 (4.243, -41.2721) -> (4.243, -51.2721) projected
  line L1 (29.243, -51.2721) -> (29.243, -41.2721) projected
  line L2 (4.243, -41.2721) -> (29.243, -41.2721)
  line L3 (29.243, -41.2721) -> (29.243, -51.2721)
  line L4 (29.243, -51.2721) -> (4.243, -51.2721)
  line L5 (4.243, -51.2721) -> (4.243, -41.2721)
  point P0 (0, 0)
extrude "Extrusion7" cut sketch "Sketch7" against normal blind 30
sketch "Sketch8" plane through (0, 54, 0) normal (0, 1, 0) x (1, 0, 0)
  line L0 (44.743, 50.7279) -> (-11.257, 50.7279) projected
  line L1 (-11.257, -34.2721) -> (44.743, -34.2721) projected
  line L2 (-11.257, 50.7279) -> (44.743, 50.7279)
  line L3 (44.743, 50.7279) -> (44.743, -34.2721)
  line L4 (44.743, -34.2721) -> (-11.257, -34.2721)
  line L5 (-11.257, -34.2721) -> (-11.257, 50.7279)
  point P0 (0, 0)
extrude "Extrusion8" cut sketch "Sketch8" against normal blind 37
sketch "Sketch9" plane through (0, 54, 0) normal (0, 1, 0) x (1, 0, 0)
  line L0 (-21.507, 85.6779) -> (-46.907, 85.6779) projected
  line L1 (-21.507, 23.1779) -> (-21.507, 85.6779) projected
  line L2 (-46.907, 85.6779) -> (-21.507, 85.6779)
  line L3 (-21.507, 85.6779) -> (-21.507, 23.1779)
  line L4 (-21.507, 23.1779) -> (-46.907, 23.1779)
  line L5 (-46.907, 23.1779) -> (-46.907, 85.6779)
  line L6 (80.393, 85.6779) -> (54.993, 85.6779) projected
  line L7 (54.993, 23.1779) -> (80.393, 23.1779) projected
  line L8 (80.393, 85.6779) -> (54.993, 85.6779)
  line L9 (54.993, 85.6779) -> (54.993, 23.1779)
  line L10 (54.993, 23.1779) -> (80.393, 23.1779)
  line L11 (80.393, 23.1779) -> (80.393, 85.6779)
  point P0 (0, 0)
extrude "Extrusion9" cut sketch "Sketch9" against normal blind 39
sketch "Sketch10" plane through (0, 54, 0) normal (0, 1, 0) x (1, 0, 0)
  line L0 (-14.507, 83.1279) -> (-14.507, 57.7279) projected
  line L1 (47.993, 57.7279) -> (47.993, 83.1279) projected
  line L2 (-14.507, 83.1279) -> (47.993, 83.1279)
  line L3 (47.993, 83.1279) -> (47.993, 57.7279)
  line L4 (47.993, 57.7279) -> (-14.507, 57.7279)
  line L5 (-14.507, 57.7279) -> (-14.507, 83.1279)
  point P0 (0, 0)
extrude "Extrusion10" cut sketch "Sketch10" against normal blind 44
properties part number "Spider_Robot_Chasis_V1"
